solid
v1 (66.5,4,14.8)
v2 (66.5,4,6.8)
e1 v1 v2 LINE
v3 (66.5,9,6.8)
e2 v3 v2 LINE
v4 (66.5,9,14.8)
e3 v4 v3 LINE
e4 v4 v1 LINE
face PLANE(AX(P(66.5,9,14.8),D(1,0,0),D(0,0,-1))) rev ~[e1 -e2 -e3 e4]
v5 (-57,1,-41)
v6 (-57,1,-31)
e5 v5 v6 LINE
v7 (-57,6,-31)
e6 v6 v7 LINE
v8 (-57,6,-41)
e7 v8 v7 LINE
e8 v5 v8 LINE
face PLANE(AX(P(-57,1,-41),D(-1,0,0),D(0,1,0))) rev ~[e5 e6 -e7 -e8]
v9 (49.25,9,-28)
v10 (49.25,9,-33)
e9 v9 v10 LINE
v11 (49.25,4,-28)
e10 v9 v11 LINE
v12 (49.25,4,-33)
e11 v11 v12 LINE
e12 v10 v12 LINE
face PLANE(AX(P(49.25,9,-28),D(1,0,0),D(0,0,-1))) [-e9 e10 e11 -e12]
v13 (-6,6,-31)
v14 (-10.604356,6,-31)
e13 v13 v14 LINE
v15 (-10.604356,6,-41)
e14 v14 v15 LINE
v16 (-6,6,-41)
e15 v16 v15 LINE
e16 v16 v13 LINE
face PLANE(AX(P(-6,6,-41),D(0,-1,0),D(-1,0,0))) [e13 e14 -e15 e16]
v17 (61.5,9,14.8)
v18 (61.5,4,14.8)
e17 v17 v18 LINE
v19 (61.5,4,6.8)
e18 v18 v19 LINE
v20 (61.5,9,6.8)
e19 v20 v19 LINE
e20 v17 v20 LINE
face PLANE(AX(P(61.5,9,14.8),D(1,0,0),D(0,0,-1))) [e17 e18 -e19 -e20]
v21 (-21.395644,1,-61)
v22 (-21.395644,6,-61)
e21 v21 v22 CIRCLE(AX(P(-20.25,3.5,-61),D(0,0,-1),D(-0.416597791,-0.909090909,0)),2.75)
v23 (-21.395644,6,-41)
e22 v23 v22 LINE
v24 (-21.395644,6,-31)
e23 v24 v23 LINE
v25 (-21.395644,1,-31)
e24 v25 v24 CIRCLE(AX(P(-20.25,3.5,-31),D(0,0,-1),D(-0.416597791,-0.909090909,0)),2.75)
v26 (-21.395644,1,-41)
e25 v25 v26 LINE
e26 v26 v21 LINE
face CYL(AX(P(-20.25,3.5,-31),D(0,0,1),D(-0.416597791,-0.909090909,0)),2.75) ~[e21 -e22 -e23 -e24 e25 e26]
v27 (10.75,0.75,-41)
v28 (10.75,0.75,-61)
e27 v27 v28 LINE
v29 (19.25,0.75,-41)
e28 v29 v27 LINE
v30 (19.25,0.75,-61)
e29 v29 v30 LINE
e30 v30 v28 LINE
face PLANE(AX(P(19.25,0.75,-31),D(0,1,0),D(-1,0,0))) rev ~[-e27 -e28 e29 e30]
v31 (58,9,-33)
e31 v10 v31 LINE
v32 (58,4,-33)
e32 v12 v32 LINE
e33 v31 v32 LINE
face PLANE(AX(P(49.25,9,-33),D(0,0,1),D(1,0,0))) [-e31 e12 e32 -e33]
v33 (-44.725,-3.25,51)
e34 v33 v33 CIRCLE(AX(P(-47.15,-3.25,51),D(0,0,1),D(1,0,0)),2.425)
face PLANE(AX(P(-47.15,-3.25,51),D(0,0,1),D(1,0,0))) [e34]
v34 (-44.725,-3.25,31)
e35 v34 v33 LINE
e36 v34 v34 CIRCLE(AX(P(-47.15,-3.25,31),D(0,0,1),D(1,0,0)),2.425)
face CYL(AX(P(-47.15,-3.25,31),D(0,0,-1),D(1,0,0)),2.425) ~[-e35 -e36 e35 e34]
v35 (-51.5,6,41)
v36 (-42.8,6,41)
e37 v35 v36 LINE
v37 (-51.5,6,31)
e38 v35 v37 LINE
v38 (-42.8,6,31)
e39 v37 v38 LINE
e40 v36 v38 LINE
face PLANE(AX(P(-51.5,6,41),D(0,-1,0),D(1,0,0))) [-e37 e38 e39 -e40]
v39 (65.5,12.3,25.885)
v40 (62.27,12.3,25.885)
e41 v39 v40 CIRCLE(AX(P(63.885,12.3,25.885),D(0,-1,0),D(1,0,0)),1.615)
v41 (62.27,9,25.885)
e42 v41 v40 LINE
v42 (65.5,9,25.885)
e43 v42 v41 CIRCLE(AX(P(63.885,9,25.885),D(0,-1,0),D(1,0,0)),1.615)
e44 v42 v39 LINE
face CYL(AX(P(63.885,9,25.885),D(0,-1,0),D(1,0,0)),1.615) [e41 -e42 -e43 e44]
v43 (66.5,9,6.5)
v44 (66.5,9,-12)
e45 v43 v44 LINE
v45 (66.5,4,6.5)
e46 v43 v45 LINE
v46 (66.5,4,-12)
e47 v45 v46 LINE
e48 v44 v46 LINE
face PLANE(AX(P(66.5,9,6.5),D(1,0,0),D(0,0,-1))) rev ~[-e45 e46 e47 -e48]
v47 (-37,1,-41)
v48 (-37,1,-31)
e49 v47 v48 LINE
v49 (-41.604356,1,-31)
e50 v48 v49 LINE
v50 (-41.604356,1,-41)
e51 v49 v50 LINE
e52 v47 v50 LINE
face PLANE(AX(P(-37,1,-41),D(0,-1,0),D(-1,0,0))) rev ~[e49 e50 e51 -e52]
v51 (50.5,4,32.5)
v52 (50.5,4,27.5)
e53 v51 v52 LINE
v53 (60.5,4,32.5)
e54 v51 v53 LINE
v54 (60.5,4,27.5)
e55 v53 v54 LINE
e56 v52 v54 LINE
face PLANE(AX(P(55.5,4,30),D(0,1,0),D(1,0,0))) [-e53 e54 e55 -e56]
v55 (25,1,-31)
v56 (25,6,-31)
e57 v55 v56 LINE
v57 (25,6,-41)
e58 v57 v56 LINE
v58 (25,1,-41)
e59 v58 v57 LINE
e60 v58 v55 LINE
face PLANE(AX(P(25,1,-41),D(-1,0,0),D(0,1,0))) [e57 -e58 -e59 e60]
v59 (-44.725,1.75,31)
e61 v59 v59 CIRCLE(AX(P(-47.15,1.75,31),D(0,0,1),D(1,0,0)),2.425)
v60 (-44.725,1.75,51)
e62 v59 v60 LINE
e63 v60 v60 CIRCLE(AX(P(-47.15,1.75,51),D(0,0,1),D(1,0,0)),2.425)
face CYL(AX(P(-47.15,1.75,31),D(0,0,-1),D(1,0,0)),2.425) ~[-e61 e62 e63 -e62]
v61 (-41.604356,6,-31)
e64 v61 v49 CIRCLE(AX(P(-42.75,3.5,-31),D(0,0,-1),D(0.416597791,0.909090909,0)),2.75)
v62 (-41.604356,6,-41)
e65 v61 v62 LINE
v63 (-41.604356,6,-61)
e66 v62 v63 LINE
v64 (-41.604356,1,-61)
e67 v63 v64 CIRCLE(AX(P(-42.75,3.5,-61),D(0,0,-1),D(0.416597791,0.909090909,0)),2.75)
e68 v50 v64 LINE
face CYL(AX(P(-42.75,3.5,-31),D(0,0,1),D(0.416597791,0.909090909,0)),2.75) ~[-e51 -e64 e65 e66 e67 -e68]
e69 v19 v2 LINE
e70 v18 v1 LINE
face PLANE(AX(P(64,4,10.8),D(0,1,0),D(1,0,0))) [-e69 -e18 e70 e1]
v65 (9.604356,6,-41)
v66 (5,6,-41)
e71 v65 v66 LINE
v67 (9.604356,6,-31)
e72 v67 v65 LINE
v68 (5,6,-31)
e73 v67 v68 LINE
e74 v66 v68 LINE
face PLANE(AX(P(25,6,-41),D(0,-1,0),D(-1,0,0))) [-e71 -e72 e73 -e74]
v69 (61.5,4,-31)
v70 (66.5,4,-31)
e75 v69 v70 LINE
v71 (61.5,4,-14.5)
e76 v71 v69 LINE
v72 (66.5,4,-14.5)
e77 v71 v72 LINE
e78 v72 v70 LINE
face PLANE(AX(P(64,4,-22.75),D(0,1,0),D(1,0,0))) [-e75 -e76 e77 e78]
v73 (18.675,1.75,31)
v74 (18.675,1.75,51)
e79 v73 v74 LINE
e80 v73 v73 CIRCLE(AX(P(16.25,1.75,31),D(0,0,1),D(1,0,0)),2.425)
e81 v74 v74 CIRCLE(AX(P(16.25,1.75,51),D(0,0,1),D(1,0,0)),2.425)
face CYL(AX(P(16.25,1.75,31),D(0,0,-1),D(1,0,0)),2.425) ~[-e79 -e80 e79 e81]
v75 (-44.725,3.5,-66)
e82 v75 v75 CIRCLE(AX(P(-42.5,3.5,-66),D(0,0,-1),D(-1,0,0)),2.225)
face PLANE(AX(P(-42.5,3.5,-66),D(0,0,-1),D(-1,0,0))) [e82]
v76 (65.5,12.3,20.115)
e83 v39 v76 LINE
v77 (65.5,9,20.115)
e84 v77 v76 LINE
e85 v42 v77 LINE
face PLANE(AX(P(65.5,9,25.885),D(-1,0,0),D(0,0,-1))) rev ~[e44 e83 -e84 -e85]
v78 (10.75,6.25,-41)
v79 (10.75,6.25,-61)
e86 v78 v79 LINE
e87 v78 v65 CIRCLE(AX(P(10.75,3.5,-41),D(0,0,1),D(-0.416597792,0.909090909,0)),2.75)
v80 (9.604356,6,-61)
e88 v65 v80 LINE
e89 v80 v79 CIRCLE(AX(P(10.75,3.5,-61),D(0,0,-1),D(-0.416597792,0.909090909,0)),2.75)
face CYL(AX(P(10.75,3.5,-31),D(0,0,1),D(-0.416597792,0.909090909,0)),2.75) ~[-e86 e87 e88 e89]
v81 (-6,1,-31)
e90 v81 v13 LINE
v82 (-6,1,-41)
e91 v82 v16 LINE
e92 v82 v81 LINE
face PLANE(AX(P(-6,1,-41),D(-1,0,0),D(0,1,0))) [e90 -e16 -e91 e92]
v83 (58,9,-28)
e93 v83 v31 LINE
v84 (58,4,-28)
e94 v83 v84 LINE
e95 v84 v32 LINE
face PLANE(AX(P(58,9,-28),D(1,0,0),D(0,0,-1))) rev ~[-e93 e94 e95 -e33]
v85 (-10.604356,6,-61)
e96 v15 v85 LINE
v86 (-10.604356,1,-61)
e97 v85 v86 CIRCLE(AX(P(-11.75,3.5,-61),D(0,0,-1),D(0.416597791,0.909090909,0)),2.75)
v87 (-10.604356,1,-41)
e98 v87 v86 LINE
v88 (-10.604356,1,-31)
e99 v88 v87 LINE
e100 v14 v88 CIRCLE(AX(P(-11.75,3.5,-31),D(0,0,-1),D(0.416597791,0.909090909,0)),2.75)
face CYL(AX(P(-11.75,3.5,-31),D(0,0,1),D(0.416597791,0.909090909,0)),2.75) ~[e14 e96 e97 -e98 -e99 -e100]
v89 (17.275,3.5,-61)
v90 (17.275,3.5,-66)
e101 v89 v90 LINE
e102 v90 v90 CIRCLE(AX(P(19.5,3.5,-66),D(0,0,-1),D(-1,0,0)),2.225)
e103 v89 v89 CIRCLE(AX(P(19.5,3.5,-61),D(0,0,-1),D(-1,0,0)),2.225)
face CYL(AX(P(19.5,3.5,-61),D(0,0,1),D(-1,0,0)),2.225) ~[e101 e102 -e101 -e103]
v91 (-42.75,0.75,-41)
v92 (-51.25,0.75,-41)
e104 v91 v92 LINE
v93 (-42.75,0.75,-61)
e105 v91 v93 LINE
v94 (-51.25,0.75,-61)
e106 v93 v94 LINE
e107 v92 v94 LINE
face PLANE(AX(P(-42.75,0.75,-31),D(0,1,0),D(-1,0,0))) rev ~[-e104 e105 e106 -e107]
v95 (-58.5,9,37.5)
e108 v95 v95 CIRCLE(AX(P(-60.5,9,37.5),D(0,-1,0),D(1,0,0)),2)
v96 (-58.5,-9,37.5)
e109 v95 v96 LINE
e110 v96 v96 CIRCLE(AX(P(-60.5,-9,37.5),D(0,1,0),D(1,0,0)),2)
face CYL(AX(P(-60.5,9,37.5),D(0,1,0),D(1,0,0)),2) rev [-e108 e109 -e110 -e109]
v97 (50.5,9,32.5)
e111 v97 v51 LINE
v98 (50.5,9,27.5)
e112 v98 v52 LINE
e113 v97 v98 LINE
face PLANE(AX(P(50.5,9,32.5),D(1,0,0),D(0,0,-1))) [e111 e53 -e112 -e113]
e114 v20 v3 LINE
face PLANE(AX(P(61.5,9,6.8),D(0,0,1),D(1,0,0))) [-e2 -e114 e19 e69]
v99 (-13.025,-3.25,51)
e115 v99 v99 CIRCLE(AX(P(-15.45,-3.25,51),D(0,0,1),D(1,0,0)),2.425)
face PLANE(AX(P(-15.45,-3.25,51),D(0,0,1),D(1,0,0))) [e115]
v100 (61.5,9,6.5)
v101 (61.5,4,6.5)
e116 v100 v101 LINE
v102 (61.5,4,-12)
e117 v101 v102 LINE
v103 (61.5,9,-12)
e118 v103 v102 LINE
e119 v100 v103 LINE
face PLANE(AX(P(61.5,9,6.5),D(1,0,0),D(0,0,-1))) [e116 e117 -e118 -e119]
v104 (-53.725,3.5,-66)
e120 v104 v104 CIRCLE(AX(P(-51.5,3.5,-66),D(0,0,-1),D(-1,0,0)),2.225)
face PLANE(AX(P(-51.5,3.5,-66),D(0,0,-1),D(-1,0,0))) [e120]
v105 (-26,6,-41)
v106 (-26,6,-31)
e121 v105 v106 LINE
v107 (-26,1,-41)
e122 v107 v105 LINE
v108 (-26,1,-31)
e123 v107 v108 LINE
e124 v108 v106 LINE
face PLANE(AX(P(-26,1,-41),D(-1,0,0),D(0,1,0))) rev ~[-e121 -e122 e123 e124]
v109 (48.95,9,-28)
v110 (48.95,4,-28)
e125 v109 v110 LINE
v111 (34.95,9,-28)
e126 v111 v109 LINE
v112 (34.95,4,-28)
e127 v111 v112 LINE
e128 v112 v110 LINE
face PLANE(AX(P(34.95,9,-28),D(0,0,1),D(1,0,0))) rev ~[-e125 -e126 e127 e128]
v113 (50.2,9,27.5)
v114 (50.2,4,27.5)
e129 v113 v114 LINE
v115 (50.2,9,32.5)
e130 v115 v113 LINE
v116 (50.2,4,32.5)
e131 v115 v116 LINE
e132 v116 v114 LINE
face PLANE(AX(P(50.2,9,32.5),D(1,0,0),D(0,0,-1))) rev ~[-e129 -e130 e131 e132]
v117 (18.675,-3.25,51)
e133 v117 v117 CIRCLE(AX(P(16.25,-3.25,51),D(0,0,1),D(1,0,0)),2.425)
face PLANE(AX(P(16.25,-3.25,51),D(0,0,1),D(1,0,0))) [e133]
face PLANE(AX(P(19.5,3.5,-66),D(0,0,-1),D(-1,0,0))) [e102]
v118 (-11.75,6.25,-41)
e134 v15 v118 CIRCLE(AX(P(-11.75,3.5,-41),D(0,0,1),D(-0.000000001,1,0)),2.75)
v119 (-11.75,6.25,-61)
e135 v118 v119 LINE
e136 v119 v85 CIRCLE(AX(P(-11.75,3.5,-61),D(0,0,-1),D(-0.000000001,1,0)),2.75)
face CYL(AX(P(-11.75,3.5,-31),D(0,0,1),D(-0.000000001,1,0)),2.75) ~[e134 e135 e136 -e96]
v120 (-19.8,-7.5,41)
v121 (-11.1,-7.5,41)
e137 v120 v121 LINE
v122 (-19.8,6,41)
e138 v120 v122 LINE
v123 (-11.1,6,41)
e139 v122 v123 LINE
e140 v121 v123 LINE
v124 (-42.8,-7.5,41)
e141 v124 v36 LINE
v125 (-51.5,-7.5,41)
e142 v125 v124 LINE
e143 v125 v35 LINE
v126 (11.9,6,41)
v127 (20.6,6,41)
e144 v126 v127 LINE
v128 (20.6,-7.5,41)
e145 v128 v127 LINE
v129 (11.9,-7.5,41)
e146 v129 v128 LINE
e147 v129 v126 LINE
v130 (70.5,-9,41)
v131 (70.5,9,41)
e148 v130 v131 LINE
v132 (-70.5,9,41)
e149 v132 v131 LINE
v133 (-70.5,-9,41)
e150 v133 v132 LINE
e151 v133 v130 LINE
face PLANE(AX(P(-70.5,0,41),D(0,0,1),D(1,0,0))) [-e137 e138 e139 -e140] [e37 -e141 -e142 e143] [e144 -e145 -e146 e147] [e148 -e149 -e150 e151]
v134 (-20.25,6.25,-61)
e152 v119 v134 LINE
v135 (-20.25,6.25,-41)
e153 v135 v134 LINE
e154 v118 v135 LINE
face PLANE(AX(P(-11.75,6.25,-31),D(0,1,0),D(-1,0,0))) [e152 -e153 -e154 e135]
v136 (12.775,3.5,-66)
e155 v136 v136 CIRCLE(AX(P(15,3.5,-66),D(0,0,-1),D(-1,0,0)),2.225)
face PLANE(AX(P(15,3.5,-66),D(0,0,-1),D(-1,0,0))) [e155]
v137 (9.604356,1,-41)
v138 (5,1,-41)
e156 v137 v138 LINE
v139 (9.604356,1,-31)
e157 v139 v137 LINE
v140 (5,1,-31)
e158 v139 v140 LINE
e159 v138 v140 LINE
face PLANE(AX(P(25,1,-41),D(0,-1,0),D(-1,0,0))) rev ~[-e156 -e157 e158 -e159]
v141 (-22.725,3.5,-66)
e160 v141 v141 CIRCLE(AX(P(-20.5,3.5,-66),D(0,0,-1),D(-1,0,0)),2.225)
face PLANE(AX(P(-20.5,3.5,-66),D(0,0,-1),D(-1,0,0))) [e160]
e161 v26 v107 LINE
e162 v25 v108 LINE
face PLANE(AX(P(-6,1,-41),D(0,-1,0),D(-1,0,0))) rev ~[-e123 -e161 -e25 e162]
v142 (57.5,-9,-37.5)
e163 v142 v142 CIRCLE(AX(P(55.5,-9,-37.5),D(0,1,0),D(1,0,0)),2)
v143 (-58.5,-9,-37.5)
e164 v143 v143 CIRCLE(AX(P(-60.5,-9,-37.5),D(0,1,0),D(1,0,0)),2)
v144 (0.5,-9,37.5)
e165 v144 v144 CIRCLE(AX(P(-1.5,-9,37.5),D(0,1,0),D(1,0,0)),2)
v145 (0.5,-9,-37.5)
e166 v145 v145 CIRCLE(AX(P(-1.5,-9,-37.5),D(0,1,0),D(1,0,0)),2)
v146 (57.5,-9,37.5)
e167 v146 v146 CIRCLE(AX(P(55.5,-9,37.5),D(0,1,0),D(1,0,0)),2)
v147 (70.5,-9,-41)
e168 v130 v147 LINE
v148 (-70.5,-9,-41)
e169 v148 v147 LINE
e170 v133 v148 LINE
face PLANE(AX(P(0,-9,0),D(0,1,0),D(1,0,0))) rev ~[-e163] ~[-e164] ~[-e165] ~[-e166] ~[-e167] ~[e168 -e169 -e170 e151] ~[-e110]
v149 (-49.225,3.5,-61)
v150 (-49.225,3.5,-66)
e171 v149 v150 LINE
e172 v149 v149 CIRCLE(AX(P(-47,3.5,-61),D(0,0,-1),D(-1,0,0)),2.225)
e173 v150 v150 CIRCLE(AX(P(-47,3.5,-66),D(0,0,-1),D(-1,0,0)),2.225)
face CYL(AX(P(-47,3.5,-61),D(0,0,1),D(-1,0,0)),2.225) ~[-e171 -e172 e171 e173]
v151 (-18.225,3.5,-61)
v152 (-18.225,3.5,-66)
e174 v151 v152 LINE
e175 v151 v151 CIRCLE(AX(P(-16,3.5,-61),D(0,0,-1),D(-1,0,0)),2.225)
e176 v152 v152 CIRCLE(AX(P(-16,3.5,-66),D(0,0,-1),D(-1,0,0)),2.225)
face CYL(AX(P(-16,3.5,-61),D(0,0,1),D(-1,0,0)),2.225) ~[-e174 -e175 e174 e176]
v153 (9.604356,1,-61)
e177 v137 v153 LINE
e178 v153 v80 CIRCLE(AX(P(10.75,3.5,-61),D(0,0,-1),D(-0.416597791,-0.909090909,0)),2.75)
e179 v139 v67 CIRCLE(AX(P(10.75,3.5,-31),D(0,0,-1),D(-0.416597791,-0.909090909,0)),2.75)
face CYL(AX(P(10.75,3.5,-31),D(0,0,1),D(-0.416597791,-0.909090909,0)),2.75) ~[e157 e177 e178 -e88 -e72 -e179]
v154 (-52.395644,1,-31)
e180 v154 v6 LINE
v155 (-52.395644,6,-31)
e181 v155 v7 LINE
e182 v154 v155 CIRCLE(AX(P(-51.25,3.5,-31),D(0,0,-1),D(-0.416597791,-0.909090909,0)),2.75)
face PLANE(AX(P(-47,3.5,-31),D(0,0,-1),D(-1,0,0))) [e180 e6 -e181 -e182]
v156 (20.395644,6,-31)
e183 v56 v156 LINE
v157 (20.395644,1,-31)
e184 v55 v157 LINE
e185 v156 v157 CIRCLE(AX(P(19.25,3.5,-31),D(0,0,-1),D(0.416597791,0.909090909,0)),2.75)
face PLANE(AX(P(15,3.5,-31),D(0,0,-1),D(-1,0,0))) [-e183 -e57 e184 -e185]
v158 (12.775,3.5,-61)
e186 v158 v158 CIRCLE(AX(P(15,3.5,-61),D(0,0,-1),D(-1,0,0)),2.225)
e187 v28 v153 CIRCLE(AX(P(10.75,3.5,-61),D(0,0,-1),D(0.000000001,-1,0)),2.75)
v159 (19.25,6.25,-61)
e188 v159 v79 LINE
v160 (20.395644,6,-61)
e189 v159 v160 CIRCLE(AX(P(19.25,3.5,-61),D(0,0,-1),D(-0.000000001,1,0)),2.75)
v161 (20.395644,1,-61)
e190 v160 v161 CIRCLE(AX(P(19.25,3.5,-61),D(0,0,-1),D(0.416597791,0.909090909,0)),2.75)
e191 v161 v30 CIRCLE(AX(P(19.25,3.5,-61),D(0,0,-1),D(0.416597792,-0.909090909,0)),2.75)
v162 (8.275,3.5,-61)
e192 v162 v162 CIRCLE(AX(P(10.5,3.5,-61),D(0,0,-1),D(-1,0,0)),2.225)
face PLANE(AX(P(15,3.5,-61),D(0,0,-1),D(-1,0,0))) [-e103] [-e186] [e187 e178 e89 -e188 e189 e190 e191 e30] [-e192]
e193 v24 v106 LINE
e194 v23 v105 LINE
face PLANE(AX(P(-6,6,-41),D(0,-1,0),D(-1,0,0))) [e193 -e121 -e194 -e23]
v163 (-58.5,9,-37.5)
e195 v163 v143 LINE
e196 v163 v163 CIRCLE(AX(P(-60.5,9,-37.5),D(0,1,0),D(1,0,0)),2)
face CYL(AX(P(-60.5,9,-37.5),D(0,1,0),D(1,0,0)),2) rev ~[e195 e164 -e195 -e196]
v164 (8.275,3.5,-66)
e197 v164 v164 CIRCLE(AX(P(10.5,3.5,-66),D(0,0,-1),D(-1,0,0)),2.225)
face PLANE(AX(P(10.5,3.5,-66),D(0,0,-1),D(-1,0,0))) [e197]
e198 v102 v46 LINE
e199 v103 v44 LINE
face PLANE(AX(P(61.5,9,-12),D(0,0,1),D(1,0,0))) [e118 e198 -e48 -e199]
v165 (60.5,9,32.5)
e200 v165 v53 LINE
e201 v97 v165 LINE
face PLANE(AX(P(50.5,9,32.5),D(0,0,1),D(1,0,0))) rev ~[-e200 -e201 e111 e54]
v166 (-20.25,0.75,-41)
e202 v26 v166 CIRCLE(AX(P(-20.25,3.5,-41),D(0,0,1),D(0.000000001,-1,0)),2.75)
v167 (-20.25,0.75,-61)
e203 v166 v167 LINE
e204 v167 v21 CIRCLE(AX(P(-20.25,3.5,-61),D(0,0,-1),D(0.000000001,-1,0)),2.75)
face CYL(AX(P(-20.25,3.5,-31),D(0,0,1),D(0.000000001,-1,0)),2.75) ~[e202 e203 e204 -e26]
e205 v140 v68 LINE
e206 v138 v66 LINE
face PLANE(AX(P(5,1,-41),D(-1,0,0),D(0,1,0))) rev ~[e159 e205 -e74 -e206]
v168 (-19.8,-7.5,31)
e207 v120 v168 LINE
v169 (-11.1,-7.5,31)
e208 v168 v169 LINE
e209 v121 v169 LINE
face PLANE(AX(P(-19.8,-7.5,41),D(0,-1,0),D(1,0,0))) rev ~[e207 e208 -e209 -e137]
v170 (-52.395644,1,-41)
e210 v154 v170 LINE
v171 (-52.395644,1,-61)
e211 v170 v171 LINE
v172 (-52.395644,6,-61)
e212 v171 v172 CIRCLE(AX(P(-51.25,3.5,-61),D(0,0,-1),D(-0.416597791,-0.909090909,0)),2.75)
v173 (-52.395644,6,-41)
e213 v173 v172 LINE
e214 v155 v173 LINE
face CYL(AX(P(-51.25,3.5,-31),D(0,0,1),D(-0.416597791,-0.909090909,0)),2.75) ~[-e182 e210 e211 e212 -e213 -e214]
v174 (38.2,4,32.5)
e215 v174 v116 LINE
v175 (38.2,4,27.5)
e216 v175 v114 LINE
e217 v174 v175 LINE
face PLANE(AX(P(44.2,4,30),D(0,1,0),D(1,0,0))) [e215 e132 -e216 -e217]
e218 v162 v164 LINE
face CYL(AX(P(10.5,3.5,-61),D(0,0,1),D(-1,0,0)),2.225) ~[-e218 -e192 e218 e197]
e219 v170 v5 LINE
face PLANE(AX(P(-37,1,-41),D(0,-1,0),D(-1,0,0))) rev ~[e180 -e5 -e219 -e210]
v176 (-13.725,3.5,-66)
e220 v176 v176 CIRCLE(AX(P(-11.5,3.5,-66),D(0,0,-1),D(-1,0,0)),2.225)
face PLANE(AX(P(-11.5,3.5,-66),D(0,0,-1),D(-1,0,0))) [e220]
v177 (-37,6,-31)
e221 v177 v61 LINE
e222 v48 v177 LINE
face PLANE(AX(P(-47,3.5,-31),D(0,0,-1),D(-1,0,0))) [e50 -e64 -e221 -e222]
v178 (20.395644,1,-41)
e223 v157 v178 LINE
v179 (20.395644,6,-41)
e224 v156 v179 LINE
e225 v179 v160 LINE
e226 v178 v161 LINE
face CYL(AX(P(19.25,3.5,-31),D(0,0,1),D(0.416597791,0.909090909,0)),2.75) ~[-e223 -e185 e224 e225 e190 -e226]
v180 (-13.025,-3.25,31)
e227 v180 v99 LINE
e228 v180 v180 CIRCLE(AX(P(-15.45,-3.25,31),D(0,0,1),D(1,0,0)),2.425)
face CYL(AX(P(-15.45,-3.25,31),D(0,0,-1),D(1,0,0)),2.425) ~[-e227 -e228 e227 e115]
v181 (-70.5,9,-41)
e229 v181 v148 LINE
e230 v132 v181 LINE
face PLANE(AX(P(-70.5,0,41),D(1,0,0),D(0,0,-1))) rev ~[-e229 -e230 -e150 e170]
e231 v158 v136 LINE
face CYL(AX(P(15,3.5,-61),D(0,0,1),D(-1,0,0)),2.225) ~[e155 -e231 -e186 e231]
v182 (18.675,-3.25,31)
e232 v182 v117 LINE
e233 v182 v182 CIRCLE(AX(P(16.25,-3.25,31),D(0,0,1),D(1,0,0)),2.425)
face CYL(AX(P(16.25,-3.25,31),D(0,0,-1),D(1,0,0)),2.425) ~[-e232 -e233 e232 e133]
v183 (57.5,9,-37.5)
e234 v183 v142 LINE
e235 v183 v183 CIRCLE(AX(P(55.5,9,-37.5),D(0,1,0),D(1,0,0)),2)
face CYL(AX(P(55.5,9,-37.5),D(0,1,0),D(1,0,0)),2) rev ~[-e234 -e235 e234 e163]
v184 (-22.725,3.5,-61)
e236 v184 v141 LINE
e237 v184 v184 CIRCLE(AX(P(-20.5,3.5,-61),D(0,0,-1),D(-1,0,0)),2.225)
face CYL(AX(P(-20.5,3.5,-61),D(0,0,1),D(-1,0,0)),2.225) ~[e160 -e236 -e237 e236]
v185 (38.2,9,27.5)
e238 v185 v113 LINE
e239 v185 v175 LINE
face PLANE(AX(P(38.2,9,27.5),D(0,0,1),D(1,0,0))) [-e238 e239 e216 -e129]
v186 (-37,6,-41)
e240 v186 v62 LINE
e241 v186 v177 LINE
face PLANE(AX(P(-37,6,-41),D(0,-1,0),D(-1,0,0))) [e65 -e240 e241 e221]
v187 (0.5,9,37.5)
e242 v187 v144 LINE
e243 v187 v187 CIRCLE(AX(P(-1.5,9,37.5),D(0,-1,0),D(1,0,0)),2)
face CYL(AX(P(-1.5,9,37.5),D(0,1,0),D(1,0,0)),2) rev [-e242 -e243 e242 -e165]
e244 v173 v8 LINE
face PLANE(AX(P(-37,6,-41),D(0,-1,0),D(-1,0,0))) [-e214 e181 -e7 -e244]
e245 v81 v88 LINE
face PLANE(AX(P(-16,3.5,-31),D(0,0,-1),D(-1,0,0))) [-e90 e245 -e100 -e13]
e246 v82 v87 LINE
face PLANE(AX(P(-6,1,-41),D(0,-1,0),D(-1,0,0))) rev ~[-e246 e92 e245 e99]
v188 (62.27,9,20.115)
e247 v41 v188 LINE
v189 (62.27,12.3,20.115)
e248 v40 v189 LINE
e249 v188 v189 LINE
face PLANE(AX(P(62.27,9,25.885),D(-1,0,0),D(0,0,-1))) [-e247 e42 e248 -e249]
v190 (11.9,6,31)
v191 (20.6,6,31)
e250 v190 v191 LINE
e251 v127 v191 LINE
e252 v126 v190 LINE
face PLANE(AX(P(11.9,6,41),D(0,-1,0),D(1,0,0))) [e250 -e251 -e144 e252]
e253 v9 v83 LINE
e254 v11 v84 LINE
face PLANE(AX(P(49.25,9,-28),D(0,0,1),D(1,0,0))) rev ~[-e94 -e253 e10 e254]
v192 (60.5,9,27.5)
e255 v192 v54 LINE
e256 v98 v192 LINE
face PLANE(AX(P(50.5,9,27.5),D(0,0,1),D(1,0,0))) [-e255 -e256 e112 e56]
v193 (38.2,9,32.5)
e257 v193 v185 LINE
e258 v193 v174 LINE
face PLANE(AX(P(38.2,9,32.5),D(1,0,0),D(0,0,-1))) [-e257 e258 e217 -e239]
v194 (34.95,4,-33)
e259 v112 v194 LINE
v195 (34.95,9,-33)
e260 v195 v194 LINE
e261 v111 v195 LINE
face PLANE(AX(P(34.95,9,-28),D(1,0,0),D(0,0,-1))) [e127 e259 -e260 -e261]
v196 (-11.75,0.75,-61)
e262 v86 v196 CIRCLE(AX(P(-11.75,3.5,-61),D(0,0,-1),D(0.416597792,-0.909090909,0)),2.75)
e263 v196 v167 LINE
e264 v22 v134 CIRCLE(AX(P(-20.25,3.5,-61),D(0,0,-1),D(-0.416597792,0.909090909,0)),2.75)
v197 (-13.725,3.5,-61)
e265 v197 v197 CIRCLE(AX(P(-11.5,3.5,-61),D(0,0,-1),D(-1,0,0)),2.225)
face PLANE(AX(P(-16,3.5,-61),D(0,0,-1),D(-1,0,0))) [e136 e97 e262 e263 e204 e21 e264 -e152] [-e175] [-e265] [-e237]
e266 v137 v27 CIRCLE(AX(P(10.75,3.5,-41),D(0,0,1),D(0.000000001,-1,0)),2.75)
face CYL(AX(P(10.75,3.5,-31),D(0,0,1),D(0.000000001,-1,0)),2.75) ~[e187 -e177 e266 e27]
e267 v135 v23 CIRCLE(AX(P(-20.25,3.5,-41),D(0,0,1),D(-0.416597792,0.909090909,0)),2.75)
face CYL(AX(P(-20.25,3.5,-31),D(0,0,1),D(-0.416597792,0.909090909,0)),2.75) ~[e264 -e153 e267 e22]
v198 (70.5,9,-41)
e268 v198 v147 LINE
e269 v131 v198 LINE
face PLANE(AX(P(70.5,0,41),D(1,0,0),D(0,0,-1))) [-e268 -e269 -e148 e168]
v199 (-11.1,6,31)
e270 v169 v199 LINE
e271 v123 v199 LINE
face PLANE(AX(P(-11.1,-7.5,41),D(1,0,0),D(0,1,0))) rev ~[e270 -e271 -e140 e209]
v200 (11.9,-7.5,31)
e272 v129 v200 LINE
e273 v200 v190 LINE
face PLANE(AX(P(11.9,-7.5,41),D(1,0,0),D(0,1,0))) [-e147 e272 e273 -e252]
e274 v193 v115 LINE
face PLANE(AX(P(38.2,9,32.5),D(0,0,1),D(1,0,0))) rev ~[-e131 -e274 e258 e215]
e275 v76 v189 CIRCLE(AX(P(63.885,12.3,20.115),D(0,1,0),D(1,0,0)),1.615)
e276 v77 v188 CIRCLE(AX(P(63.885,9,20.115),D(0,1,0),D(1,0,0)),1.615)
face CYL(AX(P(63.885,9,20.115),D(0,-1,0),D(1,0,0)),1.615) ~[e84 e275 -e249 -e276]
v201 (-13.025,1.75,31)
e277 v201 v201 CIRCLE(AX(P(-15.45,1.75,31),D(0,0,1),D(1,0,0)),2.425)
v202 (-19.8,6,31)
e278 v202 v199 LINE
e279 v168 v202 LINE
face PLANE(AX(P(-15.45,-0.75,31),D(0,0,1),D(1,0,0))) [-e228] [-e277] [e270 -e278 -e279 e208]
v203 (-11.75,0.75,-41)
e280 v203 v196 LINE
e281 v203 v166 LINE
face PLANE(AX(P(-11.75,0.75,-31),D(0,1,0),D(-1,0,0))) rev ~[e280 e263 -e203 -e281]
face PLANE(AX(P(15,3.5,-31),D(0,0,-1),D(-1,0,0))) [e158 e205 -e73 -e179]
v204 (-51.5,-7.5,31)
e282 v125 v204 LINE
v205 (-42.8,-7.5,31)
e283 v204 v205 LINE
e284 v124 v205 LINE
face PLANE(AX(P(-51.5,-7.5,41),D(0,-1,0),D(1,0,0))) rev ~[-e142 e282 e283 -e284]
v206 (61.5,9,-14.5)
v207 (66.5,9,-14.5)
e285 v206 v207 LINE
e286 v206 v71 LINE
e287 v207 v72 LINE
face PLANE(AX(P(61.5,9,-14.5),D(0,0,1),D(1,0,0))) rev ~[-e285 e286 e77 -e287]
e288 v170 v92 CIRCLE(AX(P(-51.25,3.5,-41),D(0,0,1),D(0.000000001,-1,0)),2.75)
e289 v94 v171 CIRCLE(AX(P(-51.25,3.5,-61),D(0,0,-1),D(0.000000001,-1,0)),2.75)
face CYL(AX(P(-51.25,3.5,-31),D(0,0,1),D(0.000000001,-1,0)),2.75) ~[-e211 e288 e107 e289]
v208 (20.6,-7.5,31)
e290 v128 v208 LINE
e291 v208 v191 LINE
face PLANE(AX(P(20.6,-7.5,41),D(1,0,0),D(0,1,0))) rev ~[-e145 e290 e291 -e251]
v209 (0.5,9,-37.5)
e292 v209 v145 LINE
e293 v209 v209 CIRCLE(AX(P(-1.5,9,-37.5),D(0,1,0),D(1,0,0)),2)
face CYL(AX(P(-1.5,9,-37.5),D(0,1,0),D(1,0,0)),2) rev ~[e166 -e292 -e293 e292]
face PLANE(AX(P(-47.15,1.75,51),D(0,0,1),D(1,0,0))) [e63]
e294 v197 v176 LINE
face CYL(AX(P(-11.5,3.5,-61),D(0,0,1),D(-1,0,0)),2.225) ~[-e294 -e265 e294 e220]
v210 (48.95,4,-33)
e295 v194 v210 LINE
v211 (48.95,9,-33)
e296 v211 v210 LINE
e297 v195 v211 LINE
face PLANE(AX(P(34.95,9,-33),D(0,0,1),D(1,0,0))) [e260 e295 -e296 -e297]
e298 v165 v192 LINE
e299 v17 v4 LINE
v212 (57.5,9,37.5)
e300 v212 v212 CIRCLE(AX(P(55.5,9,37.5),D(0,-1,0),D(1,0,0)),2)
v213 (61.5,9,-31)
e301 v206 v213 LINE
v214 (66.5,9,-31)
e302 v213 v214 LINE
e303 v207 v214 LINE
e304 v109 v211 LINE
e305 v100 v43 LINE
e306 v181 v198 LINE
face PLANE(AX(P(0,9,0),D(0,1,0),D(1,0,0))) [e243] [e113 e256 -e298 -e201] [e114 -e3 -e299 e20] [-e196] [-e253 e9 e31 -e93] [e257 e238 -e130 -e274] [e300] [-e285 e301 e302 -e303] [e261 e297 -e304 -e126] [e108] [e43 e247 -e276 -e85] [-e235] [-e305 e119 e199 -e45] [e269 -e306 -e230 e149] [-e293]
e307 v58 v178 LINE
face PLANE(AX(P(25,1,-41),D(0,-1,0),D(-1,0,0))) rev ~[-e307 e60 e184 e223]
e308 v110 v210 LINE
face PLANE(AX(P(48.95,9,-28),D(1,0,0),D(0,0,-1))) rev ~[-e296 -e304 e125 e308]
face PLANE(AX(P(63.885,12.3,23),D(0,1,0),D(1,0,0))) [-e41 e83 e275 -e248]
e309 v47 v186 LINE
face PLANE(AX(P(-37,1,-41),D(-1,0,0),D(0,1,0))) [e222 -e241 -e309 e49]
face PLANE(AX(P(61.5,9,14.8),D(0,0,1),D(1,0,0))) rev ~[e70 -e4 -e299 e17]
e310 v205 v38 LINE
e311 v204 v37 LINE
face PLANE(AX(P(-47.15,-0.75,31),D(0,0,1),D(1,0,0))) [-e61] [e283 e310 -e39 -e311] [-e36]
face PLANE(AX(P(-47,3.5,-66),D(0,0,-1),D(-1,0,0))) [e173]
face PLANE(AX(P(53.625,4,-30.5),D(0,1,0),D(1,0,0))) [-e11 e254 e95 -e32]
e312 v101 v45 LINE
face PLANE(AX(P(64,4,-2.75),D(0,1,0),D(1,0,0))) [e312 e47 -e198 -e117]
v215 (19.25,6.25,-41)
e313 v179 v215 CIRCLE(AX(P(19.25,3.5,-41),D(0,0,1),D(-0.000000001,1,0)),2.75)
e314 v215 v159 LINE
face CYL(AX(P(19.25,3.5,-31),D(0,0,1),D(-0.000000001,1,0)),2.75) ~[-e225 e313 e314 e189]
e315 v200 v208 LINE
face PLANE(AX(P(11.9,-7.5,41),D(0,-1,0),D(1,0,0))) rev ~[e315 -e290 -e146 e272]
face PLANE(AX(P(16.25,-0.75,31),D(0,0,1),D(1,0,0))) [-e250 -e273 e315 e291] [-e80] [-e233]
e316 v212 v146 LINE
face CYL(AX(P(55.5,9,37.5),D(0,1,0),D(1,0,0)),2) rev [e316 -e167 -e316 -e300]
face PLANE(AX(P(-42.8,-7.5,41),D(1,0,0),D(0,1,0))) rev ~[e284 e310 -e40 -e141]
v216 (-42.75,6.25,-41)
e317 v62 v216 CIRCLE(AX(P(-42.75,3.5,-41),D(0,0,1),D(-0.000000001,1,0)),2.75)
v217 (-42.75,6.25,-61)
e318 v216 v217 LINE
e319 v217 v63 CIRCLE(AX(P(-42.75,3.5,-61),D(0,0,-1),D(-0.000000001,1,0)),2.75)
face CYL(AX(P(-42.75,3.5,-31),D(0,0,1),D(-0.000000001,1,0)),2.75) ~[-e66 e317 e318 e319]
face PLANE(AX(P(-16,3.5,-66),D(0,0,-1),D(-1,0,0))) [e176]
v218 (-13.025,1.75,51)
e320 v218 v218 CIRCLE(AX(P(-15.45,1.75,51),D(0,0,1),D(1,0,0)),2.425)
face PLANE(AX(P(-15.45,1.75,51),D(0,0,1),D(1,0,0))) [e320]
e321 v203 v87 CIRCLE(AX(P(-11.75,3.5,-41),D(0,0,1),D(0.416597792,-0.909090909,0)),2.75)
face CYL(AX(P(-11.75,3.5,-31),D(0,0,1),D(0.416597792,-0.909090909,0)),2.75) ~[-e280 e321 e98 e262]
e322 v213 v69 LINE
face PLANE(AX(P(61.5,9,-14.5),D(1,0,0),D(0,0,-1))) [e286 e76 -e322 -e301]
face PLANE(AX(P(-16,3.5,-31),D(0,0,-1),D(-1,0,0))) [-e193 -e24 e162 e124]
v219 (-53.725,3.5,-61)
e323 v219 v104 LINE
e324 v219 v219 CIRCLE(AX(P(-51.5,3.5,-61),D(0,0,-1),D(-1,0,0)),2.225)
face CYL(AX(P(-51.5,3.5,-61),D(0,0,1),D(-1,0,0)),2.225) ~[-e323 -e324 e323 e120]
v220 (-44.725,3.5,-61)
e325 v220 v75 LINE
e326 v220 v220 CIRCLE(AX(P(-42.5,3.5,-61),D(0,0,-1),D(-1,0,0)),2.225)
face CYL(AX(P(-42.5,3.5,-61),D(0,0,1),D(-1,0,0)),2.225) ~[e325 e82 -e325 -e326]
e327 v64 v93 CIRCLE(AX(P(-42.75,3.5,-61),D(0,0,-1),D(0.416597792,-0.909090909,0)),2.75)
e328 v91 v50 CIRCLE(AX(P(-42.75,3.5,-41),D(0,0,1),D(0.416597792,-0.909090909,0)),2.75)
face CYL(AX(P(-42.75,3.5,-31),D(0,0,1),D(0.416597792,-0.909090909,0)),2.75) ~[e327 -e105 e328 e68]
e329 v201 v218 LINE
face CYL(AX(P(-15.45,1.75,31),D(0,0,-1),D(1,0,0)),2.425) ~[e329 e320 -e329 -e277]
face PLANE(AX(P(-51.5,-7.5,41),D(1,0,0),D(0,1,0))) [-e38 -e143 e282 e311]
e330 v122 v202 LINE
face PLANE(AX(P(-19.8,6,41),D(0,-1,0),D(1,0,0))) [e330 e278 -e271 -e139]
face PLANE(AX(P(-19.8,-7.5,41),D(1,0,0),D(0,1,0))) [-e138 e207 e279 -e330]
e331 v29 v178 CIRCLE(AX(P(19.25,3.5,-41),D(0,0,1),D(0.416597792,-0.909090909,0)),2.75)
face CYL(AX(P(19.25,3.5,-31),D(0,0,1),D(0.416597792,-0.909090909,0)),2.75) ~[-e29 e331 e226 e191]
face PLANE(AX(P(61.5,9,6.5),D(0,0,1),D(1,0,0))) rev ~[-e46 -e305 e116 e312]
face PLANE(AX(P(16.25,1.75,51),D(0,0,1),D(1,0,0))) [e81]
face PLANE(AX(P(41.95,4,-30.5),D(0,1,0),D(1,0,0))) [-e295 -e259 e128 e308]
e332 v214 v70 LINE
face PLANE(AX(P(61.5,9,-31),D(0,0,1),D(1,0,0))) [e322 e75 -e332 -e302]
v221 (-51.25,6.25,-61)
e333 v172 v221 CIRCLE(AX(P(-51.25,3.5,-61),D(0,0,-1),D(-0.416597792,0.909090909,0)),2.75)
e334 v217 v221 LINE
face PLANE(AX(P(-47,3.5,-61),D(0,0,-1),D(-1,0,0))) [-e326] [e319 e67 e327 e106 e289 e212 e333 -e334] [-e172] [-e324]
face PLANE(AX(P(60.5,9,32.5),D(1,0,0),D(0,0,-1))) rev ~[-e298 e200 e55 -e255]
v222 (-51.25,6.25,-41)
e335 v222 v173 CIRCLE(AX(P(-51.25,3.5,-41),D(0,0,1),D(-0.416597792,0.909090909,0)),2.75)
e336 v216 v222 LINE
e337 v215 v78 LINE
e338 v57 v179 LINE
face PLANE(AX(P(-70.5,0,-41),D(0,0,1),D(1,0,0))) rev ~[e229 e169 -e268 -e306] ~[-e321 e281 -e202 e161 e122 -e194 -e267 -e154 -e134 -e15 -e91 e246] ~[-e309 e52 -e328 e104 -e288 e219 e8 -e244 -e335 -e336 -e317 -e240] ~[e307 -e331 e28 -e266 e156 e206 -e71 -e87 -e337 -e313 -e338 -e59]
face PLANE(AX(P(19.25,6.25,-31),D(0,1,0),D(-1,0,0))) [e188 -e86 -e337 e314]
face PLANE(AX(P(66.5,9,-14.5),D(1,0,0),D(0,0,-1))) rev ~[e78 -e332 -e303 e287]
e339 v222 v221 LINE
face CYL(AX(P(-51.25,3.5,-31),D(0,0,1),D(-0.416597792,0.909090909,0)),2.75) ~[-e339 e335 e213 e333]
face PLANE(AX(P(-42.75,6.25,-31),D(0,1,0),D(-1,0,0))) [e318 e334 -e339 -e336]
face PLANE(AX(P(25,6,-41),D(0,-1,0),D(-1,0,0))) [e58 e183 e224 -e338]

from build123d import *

# Parameters (mm, degrees)
SKETCH1_W           = 141
SKETCH1_H           = 82
BOSS_EXTRUDE1_DEPTH = 9
SKETCH3_R           = 2
CUT_EXTRUDE1_DEPTH  = 19
SKETCH4_W           = 8.7
SKETCH4_H           = 13.5
CUT_EXTRUDE2_DEPTH  = 10
SKETCH5_W           = 20
SKETCH5_H           = 5
CUT_EXTRUDE3_DEPTH  = 10
SKETCH6_W           = 3.23
SKETCH6_H           = 5.77
BOSS_EXTRUDE2_DEPTH = 3.3
SKETCH7_R           = 2.425
BOSS_EXTRUDE3_DEPTH = 20
LPATTERN1_COUNT     = 3
LPATTERN1_PITCH     = 31.7
SKETCH8_W           = 8.5
SKETCH8_H           = 5
SKETCH8_H_2         = 0.25
BOSS_EXTRUDE4_DEPTH = 30
SKETCH10_R          = 2.225
BOSS_EXTRUDE6_DEPTH = 5
LPATTERN2_COUNT     = 3
LPATTERN2_PITCH     = 31
SKETCH9_W           = 12
SKETCH9_H           = 5
SKETCH9_W_2         = 10
SKETCH9_W_3         = 5
SKETCH9_H_2         = 8
SKETCH9_H_3         = 18.5
SKETCH9_H_4         = 16.5
SKETCH9_W_4         = 8.75
SKETCH9_W_5         = 14
CUT_EXTRUDE4_DEPTH  = 5


with BuildPart() as part:
    # Sketch1 → Boss-Extrude1 (new body, symmetric)
    with BuildSketch(Plane(origin=(0, 0, 0), x_dir=(1, 0, 0), z_dir=(0, 1, 0))):
        Rectangle(SKETCH1_W, SKETCH1_H)
    extrude(amount=BOSS_EXTRUDE1_DEPTH, both=True)

    # Sketch3 → Cut-Extrude1 (cut, through all)
    with BuildSketch(Plane(origin=(0, 9, 0), x_dir=(1, 0, 0), z_dir=(0, 1, 0))):
        with Locations((-60.5, 37.5)):
            Circle(SKETCH3_R)
        with Locations((-1.5, 37.5)):
            Circle(SKETCH3_R)
        with Locations((55.5, 37.5)):
            Circle(SKETCH3_R)
    cut_extrude1 = extrude(amount=-CUT_EXTRUDE1_DEPTH, mode=Mode.SUBTRACT)

    # Mirror1: Cut-Extrude1 across plane
    add(cut_extrude1.mirror(Plane.XY), mode=Mode.SUBTRACT)

    # Sketch4 → Cut-Extrude2 (cut)
    with BuildSketch(Plane.XY.offset(41)):
        with Locations((-47.15, -0.75)):
            Rectangle(SKETCH4_W, SKETCH4_H)
        with Locations((-15.45, -0.75)):
            Rectangle(SKETCH4_W, SKETCH4_H)
        with Locations((16.25, -0.75)):
            Rectangle(SKETCH4_W, SKETCH4_H)
    extrude(amount=-CUT_EXTRUDE2_DEPTH, mode=Mode.SUBTRACT)

    # Sketch5 → Cut-Extrude3 (cut)
    with BuildSketch(Plane(origin=(0, 0, -41), x_dir=(-1, 0, 0), z_dir=(0, 0, -1))):
        with Locations((47, 3.5)):
            Rectangle(SKETCH5_W, SKETCH5_H)
        with Locations((16, 3.5)):
            Rectangle(SKETCH5_W, SKETCH5_H)
        with Locations((-15, 3.5)):
            Rectangle(SKETCH5_W, SKETCH5_H)
    extrude(amount=-CUT_EXTRUDE3_DEPTH, mode=Mode.SUBTRACT)

    # Sketch6 → Boss-Extrude2 (add)
    with BuildSketch(Plane(origin=(0, 9, 0), x_dir=(1, 0, 0), z_dir=(0, 1, 0))):
        with Locations((63.885, -23)):
            Rectangle(SKETCH6_W, SKETCH6_H)
        with BuildLine():
            Line((62.27, -20.115), (65.5, -20.115))
            ThreePointArc((65.5, -20.115), (63.885, -18.5), (62.27, -20.115))
        make_face()
        with BuildLine():
            ThreePointArc((65.5, -25.885), (63.885, -27.5), (62.27, -25.885))
            Line((62.27, -25.885), (65.5, -25.885))
        make_face()
    extrude(amount=BOSS_EXTRUDE2_DEPTH)

    # Sketch7 → Boss-Extrude3 (add)
    with BuildSketch(Plane.XY.offset(31)):
        with Locations((-47.15, 1.75)):
            Circle(SKETCH7_R)
        with Locations((-47.15, -3.25)):
            Circle(SKETCH7_R)
    boss_extrude3 = extrude(amount=BOSS_EXTRUDE3_DEPTH)

    # LPattern1: Boss-Extrude3 ×3
    with Locations(*[(i * LPATTERN1_PITCH, 0, 0) for i in range(1, LPATTERN1_COUNT)]):
        add(boss_extrude3)

    # Sketch8 → Boss-Extrude4 (add)
    with BuildSketch(Plane(origin=(0, 0, -31), x_dir=(-1, 0, 0), z_dir=(0, 0, -1))):
        with Locations((47, 3.5)):
            Rectangle(SKETCH8_W, SKETCH8_H)
        with BuildLine():
            Line((51.25, 6), (51.25, 1))
            Line((51.25, 1), (52.395643924, 1))
            ThreePointArc((52.395643924, 1), (54, 3.5), (52.395643924, 6))
            Line((52.395643924, 6), (51.25, 6))
        make_face()
        with BuildLine():
            Line((41.604356076, 1), (42.75, 1))
            Line((42.75, 1), (42.75, 6))
            Line((42.75, 6), (41.604356076, 6))
            ThreePointArc((41.604356076, 6), (40, 3.5), (41.604356076, 1))
        make_face()
        with Locations((47, 6.125)):
            Rectangle(SKETCH8_W, SKETCH8_H_2)
        with BuildLine():
            Line((51.25, 6.25), (51.25, 6))
            Line((51.25, 6), (52.395643924, 6))
            ThreePointArc((52.395643924, 6), (51.83630197, 6.186773158), (51.25, 6.25))
        make_face()
        with BuildLine():
            Line((41.604356076, 6), (42.75, 6))
            Line((42.75, 6), (42.75, 6.25))
            ThreePointArc((42.75, 6.25), (42.16369803, 6.186773158), (41.604356076, 6))
        make_face()
        with BuildLine():
            ThreePointArc((41.604356076, 1), (42.16369803, 0.813226842), (42.75, 0.75))
            Line((42.75, 0.75), (42.75, 1))
            Line((42.75, 1), (41.604356076, 1))
        make_face()
        with Locations((47, 0.875)):
            Rectangle(SKETCH8_W, SKETCH8_H_2)
        with BuildLine():
            Line((51.25, 1), (51.25, 0.75))
            ThreePointArc((51.25, 0.75), (51.83630197, 0.813226842), (52.395643924, 1))
            Line((52.395643924, 1), (51.25, 1))
        make_face()
    boss_extrude4 = extrude(amount=BOSS_EXTRUDE4_DEPTH)

    # Sketch10 → Boss-Extrude6 (add)
    with BuildSketch(Plane(origin=(0, 0, -61), x_dir=(-1, 0, 0), z_dir=(0, 0, -1))):
        with Locations((51.5, 3.5)):
            Circle(SKETCH10_R)
        with Locations((47, 3.5)):
            Circle(SKETCH10_R)
        with Locations((42.5, 3.5)):
            Circle(SKETCH10_R)
    boss_extrude6 = extrude(amount=BOSS_EXTRUDE6_DEPTH)

    # LPattern2: Boss-Extrude4, Boss-Extrude6 ×3
    with Locations(*[(i * LPATTERN2_PITCH, 0, 0) for i in range(1, LPATTERN2_COUNT)]):
        add(boss_extrude4)
        add(boss_extrude6)

    # Sketch9 → Cut-Extrude4 (cut)
    with BuildSketch(Plane(origin=(0, 9, 0), x_dir=(1, 0, 0), z_dir=(0, 1, 0))):
        with Locations((44.2, -30)):
            Rectangle(SKETCH9_W, SKETCH9_H)
        with Locations((55.5, -30)):
            Rectangle(SKETCH9_W_2, SKETCH9_H)
        with Locations((64, -10.8)):
            Rectangle(SKETCH9_W_3, SKETCH9_H_2)
        with Locations((64, 2.75)):
            Rectangle(SKETCH9_W_3, SKETCH9_H_3)
        with Locations((64, 22.75)):
            Rectangle(SKETCH9_W_3, SKETCH9_H_4)
        with Locations((53.625, 30.5)):
            Rectangle(SKETCH9_W_4, SKETCH9_H)
        with Locations((41.95, 30.5)):
            Rectangle(SKETCH9_W_5, SKETCH9_H)
    extrude(amount=-CUT_EXTRUDE4_DEPTH, mode=Mode.SUBTRACT)


solid = part.part
